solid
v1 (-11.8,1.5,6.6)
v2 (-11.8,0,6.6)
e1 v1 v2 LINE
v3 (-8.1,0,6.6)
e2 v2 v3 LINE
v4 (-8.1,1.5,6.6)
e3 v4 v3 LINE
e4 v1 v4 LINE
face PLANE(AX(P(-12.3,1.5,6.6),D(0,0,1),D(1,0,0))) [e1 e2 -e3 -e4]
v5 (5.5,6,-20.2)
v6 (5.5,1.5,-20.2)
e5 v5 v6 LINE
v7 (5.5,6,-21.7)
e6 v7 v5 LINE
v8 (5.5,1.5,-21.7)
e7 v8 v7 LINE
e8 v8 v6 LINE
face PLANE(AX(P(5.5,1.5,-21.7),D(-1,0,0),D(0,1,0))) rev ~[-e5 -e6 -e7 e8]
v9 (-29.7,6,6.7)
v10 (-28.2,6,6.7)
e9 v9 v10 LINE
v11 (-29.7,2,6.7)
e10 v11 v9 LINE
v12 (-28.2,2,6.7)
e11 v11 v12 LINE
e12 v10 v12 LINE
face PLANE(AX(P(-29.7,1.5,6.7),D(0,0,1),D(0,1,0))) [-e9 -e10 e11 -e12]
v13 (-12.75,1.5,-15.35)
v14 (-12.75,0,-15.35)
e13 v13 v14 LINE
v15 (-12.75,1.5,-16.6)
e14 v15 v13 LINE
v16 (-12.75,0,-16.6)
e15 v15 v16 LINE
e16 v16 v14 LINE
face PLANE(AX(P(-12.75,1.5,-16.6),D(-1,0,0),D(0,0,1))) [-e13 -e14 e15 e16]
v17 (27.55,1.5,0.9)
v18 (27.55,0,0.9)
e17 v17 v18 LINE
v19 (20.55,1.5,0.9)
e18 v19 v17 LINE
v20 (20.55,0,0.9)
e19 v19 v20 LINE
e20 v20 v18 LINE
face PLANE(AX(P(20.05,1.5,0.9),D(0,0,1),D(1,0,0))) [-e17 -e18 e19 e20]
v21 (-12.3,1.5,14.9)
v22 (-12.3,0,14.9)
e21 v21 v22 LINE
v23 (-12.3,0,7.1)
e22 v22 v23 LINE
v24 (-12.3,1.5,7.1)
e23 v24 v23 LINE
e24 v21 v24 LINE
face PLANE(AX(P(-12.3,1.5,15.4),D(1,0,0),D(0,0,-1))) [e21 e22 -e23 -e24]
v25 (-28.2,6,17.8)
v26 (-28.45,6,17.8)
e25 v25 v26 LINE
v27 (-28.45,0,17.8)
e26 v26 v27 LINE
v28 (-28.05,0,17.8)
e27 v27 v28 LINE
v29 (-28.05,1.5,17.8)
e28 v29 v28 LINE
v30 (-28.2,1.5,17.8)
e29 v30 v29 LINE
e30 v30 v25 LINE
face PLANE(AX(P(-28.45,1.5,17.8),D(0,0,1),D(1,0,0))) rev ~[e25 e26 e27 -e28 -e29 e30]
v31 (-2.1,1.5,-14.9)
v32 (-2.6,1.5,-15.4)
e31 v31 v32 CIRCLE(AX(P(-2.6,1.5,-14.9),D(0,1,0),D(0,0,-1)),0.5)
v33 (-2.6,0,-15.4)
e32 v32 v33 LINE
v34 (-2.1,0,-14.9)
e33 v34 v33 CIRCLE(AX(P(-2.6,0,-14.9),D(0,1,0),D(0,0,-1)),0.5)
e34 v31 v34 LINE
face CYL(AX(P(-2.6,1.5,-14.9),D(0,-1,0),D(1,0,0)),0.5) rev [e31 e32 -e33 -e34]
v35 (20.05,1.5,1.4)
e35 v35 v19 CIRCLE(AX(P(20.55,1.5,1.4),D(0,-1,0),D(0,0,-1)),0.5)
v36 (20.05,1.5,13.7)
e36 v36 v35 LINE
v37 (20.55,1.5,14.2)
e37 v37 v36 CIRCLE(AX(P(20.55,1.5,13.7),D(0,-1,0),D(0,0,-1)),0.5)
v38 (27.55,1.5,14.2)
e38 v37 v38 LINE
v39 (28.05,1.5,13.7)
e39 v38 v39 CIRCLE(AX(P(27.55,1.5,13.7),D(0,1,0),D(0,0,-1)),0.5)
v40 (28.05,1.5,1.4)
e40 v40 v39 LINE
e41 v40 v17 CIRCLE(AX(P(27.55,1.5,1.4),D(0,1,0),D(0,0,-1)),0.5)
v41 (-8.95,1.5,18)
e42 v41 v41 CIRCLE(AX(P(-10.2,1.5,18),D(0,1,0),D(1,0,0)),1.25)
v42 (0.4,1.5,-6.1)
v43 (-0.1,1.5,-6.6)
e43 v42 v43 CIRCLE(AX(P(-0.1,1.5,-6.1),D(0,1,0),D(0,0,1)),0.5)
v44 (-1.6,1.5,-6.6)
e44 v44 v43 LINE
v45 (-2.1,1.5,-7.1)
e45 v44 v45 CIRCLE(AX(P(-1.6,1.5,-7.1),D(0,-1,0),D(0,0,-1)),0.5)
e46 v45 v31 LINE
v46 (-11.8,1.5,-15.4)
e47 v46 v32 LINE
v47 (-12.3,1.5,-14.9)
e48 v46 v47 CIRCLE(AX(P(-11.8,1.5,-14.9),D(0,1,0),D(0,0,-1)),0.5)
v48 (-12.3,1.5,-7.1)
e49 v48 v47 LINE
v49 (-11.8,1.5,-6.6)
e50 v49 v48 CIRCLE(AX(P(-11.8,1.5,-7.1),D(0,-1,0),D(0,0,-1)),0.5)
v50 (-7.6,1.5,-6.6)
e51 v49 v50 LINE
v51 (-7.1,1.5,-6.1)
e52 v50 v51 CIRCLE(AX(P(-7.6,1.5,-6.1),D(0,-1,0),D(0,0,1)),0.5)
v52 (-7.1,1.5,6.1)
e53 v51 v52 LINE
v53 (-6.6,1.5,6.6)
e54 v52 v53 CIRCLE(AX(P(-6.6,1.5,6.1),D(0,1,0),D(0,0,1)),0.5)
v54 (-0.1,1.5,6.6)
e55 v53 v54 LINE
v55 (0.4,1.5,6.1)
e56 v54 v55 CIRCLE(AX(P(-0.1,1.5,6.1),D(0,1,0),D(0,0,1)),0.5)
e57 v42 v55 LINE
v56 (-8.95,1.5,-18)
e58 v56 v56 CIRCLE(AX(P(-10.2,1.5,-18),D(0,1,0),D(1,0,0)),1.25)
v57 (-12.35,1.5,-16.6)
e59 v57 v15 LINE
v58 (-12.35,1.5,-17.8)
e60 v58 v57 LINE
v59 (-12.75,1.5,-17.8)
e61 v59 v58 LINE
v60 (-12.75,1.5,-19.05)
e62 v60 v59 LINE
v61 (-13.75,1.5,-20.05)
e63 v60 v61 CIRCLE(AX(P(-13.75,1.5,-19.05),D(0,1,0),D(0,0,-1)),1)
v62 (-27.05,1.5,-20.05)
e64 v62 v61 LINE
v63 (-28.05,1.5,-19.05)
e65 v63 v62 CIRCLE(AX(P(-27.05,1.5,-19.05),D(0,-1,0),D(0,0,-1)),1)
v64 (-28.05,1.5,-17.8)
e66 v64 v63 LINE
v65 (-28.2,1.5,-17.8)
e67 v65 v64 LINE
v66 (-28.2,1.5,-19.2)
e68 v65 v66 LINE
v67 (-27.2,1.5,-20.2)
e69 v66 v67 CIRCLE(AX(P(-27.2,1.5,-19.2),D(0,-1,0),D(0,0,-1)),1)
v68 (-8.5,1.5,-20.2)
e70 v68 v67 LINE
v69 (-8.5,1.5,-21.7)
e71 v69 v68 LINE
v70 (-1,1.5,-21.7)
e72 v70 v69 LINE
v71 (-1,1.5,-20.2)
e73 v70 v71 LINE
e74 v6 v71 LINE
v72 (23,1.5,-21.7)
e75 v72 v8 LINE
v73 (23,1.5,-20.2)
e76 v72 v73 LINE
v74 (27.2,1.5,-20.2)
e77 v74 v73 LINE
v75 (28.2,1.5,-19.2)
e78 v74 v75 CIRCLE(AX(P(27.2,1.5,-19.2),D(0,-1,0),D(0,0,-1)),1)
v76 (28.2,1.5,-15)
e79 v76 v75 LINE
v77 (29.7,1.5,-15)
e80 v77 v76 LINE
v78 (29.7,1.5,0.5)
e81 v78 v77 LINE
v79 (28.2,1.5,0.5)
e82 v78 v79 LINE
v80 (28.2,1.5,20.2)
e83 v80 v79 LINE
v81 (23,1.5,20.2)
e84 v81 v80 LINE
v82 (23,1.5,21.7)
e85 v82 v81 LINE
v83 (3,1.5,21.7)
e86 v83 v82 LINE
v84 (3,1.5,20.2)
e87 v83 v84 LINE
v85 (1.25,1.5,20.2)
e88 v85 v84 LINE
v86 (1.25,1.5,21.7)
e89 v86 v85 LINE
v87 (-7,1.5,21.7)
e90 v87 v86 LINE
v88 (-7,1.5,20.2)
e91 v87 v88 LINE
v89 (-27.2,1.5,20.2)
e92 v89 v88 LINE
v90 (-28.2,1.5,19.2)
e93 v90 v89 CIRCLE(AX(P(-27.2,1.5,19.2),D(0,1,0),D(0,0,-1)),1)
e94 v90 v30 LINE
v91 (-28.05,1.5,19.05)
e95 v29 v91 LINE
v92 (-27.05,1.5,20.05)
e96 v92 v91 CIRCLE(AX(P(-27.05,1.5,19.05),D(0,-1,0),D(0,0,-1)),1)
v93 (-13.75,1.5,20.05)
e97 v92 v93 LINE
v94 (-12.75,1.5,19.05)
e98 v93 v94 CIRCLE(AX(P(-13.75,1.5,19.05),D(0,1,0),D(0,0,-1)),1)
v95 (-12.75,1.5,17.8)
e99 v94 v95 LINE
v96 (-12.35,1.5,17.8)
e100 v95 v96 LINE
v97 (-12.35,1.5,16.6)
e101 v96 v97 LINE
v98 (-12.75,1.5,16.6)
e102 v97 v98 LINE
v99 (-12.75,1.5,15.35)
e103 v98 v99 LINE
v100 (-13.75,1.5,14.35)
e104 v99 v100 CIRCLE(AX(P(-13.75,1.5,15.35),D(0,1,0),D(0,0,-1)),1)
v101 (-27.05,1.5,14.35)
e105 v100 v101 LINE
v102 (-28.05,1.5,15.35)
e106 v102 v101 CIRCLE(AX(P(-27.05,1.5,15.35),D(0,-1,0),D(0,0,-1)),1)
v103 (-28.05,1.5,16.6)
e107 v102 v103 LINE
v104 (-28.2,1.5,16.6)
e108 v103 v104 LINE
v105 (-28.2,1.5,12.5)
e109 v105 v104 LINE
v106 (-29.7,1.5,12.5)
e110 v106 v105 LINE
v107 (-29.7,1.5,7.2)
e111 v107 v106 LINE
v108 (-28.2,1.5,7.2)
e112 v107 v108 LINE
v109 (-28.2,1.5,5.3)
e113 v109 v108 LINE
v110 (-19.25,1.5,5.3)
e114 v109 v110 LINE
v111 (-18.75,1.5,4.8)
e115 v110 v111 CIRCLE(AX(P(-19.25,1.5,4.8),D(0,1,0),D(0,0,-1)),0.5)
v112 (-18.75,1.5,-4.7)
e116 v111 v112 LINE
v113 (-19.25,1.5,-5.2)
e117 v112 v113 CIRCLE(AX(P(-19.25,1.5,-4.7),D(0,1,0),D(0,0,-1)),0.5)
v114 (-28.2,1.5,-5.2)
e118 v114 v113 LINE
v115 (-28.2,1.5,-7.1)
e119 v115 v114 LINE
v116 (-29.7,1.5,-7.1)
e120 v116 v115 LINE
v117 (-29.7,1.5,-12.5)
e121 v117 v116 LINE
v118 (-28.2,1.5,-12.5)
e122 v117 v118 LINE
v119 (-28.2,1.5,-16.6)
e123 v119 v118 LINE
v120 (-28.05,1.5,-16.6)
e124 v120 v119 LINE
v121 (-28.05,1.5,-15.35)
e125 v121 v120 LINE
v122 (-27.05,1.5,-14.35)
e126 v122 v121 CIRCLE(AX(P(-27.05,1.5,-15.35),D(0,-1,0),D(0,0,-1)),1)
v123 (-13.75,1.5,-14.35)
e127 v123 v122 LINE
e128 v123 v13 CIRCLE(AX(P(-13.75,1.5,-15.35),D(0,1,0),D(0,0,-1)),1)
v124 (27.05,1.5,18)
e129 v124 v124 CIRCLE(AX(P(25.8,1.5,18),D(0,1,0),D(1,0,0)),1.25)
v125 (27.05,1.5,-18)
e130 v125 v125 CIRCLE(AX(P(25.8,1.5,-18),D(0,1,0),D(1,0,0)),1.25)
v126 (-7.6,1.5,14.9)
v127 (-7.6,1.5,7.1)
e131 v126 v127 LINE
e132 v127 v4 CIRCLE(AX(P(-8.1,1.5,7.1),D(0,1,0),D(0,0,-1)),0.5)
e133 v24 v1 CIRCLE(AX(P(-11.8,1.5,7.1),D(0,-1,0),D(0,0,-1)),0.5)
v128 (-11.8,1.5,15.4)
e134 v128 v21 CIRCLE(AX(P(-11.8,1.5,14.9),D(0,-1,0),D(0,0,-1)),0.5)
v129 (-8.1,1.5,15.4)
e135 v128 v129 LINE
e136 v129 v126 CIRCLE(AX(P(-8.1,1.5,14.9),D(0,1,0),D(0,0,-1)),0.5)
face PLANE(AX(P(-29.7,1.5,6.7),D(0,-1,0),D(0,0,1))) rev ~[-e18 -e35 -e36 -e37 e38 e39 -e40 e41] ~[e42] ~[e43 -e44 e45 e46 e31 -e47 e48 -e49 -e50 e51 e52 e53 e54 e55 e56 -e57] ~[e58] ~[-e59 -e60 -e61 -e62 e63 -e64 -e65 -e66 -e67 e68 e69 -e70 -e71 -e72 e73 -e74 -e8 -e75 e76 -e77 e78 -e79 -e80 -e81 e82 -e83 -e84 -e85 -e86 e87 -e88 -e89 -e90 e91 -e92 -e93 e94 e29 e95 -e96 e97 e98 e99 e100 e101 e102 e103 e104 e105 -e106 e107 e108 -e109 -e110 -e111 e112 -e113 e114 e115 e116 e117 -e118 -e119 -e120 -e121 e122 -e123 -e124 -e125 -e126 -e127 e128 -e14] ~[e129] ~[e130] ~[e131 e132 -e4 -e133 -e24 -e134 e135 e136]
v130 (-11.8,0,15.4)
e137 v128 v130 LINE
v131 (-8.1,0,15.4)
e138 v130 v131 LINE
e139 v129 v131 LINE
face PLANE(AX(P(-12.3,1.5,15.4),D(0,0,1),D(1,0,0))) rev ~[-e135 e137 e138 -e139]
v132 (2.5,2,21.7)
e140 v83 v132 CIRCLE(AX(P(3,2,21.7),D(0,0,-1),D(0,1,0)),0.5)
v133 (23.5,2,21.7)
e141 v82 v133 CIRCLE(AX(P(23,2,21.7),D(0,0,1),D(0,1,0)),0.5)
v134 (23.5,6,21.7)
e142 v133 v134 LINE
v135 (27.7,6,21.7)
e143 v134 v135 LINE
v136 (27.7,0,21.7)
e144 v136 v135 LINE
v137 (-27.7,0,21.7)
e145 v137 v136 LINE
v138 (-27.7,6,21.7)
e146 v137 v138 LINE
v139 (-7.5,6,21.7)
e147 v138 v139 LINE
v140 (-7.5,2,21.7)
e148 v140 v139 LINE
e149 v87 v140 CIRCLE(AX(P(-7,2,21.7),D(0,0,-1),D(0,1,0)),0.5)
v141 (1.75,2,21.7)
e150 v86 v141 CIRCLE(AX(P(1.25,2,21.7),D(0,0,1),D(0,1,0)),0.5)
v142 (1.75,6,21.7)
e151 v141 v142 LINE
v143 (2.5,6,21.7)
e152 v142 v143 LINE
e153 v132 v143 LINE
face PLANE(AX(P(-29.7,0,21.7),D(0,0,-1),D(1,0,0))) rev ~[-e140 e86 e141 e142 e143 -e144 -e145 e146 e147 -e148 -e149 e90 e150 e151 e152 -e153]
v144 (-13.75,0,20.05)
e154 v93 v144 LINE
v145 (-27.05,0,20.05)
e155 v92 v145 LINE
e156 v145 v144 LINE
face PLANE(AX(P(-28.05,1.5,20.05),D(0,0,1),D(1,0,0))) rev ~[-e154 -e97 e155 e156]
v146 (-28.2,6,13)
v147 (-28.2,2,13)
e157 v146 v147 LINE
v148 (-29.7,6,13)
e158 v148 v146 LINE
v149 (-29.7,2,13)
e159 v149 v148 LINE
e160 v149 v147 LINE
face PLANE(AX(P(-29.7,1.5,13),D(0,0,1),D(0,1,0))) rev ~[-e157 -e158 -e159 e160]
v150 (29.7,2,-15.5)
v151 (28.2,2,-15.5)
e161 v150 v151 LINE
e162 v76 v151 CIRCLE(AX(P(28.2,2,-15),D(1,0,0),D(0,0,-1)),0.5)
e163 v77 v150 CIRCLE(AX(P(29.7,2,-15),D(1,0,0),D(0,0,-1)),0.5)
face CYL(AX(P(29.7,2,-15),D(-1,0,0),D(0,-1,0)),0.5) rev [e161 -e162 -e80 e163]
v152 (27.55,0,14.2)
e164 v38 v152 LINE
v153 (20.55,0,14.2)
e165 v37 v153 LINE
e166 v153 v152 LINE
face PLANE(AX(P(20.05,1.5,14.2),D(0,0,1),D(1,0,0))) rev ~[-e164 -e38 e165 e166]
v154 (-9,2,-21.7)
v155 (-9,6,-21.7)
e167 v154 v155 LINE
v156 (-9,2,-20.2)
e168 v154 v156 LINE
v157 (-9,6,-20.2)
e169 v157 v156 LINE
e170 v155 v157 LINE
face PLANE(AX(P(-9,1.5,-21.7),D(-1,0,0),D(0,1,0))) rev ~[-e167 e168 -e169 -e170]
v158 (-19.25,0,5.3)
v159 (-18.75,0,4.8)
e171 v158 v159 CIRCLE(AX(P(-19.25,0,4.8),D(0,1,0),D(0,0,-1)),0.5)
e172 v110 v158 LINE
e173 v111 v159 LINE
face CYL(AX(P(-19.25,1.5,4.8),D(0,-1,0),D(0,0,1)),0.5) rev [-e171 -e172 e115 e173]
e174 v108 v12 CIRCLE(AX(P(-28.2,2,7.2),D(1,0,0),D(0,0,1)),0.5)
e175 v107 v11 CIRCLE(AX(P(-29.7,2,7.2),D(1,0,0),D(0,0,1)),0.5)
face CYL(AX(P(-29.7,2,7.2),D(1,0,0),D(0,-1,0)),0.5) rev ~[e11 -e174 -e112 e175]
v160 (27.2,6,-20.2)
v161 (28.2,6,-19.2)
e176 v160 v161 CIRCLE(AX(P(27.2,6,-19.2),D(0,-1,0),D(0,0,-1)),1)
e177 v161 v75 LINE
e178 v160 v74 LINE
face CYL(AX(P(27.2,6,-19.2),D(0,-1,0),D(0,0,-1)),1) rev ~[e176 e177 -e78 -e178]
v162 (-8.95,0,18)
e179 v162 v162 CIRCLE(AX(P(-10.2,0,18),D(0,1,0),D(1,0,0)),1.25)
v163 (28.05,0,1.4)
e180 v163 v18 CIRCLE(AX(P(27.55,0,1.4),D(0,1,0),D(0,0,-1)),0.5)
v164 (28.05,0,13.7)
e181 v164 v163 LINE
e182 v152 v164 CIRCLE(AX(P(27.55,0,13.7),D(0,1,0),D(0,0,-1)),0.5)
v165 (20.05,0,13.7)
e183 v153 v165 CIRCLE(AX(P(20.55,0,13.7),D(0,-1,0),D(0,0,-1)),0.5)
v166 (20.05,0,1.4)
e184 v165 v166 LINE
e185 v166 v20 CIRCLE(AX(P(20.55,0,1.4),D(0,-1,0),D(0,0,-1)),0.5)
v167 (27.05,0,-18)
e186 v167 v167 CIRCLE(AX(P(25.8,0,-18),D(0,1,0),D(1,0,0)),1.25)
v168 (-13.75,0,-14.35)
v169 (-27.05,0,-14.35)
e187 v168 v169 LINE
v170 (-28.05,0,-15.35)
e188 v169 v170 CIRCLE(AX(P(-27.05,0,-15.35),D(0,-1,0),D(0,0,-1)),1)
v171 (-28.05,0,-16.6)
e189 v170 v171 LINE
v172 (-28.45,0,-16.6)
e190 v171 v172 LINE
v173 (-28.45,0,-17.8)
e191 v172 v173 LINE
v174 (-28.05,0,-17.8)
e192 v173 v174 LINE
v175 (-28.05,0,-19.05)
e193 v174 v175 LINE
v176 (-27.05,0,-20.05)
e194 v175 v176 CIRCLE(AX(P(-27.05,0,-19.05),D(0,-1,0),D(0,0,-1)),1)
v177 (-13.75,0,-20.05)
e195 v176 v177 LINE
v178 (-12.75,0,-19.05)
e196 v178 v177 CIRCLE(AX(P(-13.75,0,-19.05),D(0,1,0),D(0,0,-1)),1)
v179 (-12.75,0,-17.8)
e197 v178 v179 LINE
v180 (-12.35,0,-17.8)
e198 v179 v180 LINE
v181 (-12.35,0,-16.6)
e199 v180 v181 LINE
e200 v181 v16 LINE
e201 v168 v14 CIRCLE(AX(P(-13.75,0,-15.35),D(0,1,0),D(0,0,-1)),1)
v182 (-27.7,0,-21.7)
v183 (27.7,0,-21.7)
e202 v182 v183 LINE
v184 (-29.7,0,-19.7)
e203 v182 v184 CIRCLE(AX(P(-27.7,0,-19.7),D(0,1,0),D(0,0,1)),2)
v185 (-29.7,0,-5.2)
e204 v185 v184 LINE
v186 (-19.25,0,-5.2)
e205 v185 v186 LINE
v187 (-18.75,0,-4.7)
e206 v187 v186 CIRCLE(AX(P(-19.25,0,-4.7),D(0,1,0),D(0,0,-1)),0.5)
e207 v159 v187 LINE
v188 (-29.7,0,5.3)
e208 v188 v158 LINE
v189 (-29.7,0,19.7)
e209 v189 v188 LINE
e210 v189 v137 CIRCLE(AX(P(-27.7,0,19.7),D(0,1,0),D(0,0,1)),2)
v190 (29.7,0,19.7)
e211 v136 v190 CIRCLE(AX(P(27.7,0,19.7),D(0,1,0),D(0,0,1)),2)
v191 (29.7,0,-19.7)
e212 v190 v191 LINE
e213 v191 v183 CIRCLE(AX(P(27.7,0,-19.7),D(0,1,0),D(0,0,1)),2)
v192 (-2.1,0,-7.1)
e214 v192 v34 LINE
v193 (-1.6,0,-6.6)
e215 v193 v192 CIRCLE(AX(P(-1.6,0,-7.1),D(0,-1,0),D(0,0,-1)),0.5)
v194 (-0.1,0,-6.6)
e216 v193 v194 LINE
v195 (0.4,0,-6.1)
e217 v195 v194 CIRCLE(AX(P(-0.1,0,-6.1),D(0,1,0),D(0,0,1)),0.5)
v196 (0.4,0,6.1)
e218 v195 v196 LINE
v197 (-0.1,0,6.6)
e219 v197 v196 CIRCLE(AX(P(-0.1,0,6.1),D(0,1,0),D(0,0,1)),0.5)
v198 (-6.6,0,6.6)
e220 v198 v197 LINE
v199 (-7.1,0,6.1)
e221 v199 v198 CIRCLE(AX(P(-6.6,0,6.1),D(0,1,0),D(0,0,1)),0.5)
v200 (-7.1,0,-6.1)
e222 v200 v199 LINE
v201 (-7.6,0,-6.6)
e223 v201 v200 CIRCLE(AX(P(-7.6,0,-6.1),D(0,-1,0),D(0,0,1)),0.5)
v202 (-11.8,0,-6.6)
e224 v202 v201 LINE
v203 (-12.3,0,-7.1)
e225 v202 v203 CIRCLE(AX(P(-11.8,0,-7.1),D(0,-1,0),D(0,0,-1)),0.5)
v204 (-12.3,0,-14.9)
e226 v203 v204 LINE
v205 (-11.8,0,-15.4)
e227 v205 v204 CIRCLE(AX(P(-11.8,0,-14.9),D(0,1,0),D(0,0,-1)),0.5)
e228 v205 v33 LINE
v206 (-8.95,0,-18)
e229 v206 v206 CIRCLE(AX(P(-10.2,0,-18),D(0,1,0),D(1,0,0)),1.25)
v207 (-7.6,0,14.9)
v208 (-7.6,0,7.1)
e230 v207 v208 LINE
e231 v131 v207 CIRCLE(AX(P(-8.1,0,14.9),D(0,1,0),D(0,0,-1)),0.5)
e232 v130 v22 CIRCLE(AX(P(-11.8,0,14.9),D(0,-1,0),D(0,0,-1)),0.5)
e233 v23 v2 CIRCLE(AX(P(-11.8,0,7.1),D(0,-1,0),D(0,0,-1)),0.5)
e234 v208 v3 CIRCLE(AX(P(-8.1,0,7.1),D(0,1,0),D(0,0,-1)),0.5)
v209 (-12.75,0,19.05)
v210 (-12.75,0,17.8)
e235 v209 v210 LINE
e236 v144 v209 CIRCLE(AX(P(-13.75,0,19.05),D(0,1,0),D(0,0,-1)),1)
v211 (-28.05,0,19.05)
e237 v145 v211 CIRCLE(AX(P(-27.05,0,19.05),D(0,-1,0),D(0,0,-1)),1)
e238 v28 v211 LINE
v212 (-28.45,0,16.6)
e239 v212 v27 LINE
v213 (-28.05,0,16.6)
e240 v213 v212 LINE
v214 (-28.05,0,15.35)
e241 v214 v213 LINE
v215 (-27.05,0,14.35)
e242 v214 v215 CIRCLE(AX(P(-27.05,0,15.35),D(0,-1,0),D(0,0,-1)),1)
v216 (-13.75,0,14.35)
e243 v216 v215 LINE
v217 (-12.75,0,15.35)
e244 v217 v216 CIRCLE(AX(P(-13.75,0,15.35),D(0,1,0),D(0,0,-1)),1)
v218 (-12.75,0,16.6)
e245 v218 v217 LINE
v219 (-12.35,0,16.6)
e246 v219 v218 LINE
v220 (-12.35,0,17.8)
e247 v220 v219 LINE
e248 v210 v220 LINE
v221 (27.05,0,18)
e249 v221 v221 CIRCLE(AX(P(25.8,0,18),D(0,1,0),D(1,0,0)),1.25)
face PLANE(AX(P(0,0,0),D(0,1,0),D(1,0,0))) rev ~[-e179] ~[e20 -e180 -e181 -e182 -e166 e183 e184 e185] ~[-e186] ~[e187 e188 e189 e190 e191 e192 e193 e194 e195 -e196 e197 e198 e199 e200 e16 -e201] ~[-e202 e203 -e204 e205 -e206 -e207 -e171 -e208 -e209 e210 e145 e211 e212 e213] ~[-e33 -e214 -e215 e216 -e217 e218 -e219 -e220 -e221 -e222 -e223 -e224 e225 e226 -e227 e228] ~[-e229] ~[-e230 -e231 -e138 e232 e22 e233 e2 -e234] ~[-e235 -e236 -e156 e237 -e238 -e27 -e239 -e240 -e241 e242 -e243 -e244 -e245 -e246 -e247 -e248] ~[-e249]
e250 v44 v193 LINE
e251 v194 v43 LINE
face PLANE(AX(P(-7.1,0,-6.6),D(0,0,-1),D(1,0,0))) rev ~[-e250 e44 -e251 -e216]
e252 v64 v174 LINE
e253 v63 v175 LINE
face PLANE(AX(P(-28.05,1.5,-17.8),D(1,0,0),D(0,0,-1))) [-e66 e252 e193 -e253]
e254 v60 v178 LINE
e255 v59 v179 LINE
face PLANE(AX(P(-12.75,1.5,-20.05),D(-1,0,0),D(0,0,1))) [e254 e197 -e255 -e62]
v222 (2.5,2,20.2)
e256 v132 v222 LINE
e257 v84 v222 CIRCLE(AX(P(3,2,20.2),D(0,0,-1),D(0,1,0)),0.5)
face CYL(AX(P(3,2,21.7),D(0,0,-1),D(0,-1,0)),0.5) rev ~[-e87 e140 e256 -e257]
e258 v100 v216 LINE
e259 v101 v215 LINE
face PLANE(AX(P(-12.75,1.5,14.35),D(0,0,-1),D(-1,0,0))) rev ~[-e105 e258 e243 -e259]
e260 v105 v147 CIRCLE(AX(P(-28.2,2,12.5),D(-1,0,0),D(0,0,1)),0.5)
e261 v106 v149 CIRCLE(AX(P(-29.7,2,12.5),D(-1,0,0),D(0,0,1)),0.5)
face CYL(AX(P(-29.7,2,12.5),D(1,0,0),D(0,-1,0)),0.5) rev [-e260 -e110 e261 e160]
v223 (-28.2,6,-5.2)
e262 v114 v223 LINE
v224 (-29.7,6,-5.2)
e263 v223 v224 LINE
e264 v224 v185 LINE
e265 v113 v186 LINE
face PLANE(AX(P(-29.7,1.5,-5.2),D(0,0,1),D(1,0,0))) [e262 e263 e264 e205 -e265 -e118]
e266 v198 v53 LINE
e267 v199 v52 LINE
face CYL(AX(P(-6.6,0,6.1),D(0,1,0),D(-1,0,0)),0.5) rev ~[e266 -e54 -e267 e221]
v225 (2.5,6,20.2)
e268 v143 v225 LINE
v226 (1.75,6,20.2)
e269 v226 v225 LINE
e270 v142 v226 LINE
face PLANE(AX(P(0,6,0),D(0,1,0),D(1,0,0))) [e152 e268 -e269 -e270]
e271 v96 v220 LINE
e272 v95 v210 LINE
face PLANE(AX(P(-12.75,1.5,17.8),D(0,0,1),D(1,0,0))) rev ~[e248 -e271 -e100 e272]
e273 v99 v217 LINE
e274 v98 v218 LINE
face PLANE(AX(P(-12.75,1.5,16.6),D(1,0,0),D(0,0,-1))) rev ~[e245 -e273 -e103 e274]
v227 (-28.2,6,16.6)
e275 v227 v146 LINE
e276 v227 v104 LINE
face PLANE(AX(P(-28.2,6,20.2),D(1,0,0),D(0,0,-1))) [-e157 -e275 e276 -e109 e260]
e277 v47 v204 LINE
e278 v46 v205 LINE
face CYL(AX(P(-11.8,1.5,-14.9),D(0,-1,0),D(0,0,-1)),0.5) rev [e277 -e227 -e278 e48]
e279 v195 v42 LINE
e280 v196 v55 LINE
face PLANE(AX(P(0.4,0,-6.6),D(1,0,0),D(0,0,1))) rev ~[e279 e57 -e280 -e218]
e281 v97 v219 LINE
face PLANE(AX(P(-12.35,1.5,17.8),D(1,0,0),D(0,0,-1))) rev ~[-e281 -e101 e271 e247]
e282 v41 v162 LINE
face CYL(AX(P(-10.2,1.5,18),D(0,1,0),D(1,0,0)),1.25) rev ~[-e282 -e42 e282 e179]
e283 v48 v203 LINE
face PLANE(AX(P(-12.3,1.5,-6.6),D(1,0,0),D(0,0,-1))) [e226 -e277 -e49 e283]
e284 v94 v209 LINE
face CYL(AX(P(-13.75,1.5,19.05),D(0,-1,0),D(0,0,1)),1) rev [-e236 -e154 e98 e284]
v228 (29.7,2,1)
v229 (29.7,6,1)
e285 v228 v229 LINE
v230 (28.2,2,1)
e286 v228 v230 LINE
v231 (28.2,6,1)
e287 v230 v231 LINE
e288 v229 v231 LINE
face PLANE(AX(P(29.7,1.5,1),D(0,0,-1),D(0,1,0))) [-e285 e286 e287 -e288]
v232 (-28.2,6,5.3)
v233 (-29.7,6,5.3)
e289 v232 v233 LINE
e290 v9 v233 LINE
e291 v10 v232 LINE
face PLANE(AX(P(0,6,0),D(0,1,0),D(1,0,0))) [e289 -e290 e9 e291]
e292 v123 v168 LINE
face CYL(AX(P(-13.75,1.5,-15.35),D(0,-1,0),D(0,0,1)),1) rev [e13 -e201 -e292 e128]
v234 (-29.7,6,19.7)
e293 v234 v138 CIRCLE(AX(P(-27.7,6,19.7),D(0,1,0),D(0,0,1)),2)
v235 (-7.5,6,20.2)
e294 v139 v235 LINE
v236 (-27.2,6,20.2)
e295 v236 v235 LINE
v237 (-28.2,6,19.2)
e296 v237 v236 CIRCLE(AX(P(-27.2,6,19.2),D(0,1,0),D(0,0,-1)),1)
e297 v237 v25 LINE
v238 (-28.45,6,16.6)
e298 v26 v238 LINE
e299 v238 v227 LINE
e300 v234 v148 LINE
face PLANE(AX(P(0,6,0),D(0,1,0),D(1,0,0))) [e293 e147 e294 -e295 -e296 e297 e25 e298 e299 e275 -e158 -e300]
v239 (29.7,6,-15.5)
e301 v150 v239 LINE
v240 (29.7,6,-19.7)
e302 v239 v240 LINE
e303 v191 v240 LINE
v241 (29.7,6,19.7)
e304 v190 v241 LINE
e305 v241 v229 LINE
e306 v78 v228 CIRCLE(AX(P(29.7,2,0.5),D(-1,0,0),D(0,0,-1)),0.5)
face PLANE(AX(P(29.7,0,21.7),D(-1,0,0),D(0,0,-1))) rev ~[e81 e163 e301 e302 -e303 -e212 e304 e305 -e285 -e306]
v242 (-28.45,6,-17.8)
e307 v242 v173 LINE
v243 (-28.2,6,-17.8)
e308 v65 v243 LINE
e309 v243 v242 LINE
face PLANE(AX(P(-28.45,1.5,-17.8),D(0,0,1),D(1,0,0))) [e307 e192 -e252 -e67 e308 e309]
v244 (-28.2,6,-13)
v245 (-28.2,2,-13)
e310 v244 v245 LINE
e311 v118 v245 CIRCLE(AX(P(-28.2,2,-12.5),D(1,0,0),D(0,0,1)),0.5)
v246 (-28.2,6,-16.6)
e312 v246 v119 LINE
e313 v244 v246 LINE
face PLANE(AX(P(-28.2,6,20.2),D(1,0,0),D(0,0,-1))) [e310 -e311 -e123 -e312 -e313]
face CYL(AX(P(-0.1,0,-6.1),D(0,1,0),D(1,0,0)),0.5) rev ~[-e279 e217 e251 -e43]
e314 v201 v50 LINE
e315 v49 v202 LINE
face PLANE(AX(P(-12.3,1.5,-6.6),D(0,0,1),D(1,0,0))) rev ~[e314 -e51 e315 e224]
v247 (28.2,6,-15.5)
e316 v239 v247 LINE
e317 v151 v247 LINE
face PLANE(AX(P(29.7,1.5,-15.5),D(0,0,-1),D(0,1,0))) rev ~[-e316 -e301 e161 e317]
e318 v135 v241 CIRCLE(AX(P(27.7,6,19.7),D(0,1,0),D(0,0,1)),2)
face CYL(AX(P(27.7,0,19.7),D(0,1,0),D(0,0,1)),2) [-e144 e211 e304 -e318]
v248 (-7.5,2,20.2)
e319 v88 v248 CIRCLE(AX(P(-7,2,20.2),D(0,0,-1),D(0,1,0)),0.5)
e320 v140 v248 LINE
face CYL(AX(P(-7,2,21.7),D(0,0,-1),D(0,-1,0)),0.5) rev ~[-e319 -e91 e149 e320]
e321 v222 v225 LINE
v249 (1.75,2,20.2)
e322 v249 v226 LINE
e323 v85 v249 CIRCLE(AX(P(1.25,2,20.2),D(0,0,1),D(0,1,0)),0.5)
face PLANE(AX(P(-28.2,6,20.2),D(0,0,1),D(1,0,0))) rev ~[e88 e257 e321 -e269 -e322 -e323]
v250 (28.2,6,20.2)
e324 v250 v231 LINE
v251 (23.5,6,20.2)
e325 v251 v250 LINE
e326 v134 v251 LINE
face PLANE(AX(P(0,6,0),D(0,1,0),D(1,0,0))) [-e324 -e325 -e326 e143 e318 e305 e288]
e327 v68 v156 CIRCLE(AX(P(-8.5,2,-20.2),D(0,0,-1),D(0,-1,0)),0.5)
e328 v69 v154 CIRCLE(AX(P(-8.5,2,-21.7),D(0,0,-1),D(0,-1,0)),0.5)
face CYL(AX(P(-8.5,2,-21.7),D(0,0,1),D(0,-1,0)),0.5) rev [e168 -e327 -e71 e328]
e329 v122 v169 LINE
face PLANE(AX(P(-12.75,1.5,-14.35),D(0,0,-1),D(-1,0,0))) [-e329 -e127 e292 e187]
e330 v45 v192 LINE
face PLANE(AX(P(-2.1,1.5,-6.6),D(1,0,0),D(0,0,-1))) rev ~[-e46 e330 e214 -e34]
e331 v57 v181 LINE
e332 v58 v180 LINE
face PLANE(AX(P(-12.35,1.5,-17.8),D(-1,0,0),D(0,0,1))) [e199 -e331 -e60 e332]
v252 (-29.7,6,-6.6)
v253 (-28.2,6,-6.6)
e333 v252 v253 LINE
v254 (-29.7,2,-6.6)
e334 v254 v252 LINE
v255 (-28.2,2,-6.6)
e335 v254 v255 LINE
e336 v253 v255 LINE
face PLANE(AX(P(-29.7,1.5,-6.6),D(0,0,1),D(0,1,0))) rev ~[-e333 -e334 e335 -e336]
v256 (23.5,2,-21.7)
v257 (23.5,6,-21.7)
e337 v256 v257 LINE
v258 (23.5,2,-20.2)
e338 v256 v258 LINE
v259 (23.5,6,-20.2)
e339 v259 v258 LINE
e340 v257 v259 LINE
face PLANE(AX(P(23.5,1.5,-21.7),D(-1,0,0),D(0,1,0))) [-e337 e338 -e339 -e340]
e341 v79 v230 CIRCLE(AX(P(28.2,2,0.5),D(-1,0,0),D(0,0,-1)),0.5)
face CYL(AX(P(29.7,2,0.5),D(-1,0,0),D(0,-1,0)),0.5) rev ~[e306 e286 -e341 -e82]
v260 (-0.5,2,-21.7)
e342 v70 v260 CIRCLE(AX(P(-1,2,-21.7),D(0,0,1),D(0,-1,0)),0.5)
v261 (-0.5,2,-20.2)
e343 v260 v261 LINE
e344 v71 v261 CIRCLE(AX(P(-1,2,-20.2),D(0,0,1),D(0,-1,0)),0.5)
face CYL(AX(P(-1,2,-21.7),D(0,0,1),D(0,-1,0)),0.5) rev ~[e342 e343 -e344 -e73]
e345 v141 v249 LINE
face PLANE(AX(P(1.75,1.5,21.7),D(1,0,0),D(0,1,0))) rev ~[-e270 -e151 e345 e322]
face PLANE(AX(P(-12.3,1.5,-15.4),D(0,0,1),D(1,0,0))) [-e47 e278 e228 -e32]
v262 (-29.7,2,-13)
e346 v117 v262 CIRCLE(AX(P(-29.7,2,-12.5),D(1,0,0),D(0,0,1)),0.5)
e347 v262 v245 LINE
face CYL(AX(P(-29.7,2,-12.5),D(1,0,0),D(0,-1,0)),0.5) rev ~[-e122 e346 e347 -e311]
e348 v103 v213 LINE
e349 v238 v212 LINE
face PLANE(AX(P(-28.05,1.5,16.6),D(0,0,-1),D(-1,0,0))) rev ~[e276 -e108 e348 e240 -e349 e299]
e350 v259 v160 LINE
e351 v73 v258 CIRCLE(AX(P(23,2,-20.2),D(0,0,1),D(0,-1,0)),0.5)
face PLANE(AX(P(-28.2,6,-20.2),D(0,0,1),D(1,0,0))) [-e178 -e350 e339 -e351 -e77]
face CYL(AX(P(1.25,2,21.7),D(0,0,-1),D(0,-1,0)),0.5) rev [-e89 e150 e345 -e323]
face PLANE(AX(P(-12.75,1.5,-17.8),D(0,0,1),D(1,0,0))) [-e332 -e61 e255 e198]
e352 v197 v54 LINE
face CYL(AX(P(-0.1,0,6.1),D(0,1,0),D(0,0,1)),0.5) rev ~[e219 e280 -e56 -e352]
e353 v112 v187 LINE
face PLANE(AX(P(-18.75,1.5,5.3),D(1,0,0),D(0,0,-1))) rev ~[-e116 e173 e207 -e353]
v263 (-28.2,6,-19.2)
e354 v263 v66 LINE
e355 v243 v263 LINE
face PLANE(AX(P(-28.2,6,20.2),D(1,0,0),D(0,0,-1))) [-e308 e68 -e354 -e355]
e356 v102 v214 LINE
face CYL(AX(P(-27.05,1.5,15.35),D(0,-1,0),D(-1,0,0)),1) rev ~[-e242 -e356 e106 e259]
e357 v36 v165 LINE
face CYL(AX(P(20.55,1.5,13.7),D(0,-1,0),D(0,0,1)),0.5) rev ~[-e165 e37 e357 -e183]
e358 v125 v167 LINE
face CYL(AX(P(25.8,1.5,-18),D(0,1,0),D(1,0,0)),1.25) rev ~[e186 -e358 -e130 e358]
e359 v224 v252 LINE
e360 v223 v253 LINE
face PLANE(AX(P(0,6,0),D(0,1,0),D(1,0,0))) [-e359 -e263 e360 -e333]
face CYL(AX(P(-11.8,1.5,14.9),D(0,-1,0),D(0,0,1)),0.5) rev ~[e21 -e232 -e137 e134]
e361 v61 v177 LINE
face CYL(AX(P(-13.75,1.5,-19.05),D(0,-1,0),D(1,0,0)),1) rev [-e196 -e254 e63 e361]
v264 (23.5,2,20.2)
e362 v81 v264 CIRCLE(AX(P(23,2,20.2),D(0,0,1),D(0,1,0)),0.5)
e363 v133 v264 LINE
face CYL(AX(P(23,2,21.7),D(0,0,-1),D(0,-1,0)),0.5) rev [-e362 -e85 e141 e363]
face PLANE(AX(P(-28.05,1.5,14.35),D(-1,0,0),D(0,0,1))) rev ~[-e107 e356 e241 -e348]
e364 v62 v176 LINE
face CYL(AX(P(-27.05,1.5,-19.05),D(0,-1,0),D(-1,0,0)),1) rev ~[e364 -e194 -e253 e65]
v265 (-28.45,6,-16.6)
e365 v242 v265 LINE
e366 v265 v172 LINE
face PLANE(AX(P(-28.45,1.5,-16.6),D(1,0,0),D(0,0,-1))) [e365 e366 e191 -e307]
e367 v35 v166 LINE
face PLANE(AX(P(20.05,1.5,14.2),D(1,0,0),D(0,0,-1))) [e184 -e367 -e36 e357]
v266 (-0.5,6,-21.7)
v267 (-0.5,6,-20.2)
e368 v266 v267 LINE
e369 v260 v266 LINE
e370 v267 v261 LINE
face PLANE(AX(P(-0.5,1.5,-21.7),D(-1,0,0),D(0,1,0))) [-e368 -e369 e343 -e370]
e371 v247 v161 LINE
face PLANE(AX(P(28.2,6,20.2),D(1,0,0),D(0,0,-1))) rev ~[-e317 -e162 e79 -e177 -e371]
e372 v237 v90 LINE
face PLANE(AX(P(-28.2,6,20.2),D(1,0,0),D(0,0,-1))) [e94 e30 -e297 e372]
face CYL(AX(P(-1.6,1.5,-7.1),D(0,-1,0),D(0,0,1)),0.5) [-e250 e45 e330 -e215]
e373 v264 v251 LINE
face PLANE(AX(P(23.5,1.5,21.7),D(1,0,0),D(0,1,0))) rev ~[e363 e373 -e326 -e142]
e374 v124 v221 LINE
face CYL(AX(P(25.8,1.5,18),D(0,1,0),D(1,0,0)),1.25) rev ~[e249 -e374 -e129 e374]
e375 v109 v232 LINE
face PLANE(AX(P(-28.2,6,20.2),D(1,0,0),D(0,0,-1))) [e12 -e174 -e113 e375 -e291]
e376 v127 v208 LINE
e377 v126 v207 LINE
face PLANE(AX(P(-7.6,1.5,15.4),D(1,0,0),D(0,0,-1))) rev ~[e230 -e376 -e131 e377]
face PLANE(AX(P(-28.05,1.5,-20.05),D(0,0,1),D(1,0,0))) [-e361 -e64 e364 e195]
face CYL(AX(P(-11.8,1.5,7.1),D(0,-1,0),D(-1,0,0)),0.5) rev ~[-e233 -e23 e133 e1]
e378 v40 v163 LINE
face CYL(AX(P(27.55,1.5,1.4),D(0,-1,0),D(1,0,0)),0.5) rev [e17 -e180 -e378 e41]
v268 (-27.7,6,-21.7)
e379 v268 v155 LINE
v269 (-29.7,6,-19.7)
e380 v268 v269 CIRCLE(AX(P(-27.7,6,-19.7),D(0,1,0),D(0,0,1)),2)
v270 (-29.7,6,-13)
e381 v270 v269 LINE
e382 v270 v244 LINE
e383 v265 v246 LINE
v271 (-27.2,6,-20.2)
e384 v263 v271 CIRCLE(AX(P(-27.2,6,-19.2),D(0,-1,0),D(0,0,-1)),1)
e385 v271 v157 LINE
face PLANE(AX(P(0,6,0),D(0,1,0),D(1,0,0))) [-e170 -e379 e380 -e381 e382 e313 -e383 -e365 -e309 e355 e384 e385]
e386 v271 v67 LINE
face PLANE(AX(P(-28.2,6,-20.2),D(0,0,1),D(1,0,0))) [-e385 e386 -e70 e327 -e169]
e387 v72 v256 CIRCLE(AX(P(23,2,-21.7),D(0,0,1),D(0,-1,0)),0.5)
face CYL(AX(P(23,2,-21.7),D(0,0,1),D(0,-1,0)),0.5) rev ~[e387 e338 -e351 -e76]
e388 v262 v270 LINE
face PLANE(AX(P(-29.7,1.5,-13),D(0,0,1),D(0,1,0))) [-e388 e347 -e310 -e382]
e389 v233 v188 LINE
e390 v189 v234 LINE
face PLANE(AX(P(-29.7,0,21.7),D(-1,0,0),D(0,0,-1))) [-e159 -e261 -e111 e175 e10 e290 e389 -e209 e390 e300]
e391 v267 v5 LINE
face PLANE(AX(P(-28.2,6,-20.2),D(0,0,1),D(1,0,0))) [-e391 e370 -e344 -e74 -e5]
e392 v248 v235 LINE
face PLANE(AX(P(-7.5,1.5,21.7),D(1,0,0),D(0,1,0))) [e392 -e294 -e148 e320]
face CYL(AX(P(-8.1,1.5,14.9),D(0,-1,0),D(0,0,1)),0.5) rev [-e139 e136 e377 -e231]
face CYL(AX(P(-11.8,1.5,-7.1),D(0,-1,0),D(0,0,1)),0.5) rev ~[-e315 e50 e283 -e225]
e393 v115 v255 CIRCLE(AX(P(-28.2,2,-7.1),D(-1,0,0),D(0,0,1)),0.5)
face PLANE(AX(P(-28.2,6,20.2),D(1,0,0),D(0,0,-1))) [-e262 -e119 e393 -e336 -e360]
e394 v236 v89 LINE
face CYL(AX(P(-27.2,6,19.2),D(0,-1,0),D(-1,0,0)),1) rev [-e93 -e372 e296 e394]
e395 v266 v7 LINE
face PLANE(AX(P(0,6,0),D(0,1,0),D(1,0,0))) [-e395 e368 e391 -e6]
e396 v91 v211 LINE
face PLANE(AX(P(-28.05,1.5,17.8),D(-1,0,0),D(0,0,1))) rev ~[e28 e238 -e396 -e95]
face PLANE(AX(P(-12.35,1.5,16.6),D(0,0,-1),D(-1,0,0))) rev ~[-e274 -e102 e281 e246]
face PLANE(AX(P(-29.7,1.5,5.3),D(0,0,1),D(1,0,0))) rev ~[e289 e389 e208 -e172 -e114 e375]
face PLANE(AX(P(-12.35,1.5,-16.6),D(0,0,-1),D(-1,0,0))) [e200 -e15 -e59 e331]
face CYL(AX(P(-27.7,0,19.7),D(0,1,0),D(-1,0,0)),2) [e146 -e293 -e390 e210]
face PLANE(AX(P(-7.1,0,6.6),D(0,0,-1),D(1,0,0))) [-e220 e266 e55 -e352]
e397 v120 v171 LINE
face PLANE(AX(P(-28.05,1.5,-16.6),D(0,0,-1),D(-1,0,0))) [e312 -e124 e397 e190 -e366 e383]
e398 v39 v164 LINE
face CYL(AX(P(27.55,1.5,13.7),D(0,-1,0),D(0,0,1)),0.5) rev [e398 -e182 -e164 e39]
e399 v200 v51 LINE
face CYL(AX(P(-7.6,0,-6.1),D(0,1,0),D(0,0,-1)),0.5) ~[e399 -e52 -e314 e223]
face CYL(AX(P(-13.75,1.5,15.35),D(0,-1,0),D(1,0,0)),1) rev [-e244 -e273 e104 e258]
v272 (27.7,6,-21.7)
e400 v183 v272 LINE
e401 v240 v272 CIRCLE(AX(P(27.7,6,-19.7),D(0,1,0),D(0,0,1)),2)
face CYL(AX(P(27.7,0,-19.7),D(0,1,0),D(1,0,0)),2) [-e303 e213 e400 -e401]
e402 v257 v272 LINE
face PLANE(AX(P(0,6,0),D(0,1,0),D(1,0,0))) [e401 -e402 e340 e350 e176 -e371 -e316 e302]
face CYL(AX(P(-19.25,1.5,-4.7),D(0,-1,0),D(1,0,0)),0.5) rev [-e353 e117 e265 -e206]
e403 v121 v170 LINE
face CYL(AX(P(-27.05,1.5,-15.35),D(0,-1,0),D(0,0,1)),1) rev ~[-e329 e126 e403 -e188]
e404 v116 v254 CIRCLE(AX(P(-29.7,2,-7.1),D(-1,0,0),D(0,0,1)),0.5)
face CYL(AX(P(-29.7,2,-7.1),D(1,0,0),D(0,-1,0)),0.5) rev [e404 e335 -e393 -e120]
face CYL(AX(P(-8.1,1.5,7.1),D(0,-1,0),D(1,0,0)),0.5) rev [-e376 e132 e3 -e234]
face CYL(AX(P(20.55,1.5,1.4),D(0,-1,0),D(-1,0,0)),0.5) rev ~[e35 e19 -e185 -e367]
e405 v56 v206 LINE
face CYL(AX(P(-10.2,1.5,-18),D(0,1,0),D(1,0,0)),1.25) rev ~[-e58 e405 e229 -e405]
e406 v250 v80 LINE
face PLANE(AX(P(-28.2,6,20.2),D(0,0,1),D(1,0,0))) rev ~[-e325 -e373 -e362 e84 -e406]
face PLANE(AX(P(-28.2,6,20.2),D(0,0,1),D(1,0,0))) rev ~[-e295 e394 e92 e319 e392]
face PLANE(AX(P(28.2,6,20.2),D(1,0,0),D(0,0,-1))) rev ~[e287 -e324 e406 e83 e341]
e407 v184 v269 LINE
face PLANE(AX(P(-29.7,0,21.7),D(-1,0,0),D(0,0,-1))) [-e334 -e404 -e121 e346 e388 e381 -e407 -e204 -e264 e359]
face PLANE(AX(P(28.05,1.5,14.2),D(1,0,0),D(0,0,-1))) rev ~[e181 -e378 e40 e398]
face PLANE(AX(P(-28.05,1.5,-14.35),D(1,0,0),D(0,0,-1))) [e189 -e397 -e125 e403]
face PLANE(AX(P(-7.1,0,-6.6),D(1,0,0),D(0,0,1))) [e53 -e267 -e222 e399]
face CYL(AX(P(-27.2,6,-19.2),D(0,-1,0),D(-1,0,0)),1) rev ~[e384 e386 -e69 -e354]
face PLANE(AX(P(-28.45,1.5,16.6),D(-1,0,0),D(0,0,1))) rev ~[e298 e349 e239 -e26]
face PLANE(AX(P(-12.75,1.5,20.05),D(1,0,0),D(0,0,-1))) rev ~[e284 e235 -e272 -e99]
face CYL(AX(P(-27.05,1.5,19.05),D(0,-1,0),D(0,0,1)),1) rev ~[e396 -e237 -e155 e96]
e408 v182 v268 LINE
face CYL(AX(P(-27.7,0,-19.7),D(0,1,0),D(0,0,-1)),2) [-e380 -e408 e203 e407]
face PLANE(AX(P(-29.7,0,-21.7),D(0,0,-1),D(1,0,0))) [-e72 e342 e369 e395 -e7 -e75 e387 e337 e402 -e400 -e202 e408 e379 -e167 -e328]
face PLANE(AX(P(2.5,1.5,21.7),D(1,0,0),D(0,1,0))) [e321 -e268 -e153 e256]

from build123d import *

# Parameters (mm, degrees)
SKETCH_1_W               = 59.4
SKETCH_1_H               = 43.4
EXTRUDE_1_DEPTH          = 6
SKETCH_2_W               = 56.4
SKETCH_2_H               = 40.4
CUT_EXTRUDE_1_DEPTH      = 4.5
SKETCH_3_R               = 1.25
CUT_EXTRUDE_2_DEPTH      = 2.5
SKETCH_4_W               = 10.95
SKETCH_4_H               = 10.5
CUT_EXTRUDE_3_DEPTH      = 5.5
CUT_EXTRUDE_3_DEPTH_BACK = 2.5
SKETCH_5_W               = 6.4
SKETCH_5_H               = 4.5
SKETCH_5_W_2             = 6.3
CUT_EXTRUDE_4_DEPTH      = 4.5
CUT_EXTRUDE_5_DEPTH      = 5.5
CUT_EXTRUDE_5_DEPTH_BACK = 2.5
SKETCH_9_W               = 10.2
SKETCH_9_H               = 8.8
SKETCH_9_W_2             = 4.7
CUT_EXTRUDE_6_DEPTH      = 5.5
CUT_EXTRUDE_6_DEPTH_BACK = 2.5
SKETCH_10_W              = 8
SKETCH_10_H              = 13.3
CUT_EXTRUDE_7_DEPTH      = 5.5
CUT_EXTRUDE_7_DEPTH_BACK = 2.5
FILLET_1_R               = 2
SKETCH_11_W              = 8.5
SKETCH_11_H              = 4.5
SKETCH_11_W_2            = 18
CUT_EXTRUDE_8_DEPTH      = 3
SKETCH_12_W              = 9.25
SKETCH_12_H              = 4.5
SKETCH_12_W_2            = 21
CUT_EXTRUDE_9_DEPTH      = 3
SKETCH_13_W              = 16.5
SKETCH_13_H              = 4.5
CUT_EXTRUDE_10_DEPTH     = 3
SKETCH_14_W              = 7.5
SKETCH_14_H              = 13.2
CUT_EXTRUDE_11_DEPTH     = 10
FILLET_2_R               = 0.5
FILLET_3_R               = 1
FILLET_4_R               = 0.5


with BuildPart() as part:
    # 草图1 → 凸台-拉伸1 (new body)
    with BuildSketch(Plane(origin=(0, 0, 0), x_dir=(1, 0, 0), z_dir=(0, 1, 0))):
        Rectangle(SKETCH_1_W, SKETCH_1_H)
    extrude(amount=EXTRUDE_1_DEPTH)

    # 草图2 → 切除-拉伸1 (cut)
    with BuildSketch(Plane(origin=(0, 6, 0), x_dir=(1, 0, 0), z_dir=(0, 1, 0))):
        Rectangle(SKETCH_2_W, SKETCH_2_H)
    extrude(amount=-CUT_EXTRUDE_1_DEPTH, mode=Mode.SUBTRACT)

    # 草图3 → 切除-拉伸2 (cut, through all)
    with BuildSketch(Plane(origin=(0, 1.5, 0), x_dir=(1, 0, 0), z_dir=(0, 1, 0))):
        with Locations((-10.2, -18)):
            Circle(SKETCH_3_R)
        with Locations((-10.2, 18)):
            Circle(SKETCH_3_R)
        with Locations((25.8, 18)):
            Circle(SKETCH_3_R)
        with Locations((25.8, -18)):
            Circle(SKETCH_3_R)
    extrude(amount=-CUT_EXTRUDE_2_DEPTH, mode=Mode.SUBTRACT)

    # 草图4 → 切除-拉伸3 (cut, two sides)
    with BuildSketch(Plane(origin=(0, 1.5, 0), x_dir=(1, 0, 0), z_dir=(0, 1, 0))) as cut_extrude_3_sk:
        with Locations((-24.225, -0.05)):
            Rectangle(SKETCH_4_W, SKETCH_4_H)
    extrude(amount=CUT_EXTRUDE_3_DEPTH, mode=Mode.SUBTRACT)
    extrude(cut_extrude_3_sk.sketch, amount=-CUT_EXTRUDE_3_DEPTH_BACK, mode=Mode.SUBTRACT)

    # 草图5 → 切除-拉伸4 (cut)
    with BuildSketch(Plane.ZY.offset(29.7)):
        with Locations((-9.8, 3.75)):
            Rectangle(SKETCH_5_W, SKETCH_5_H)
        with Locations((9.85, 3.75)):
            Rectangle(SKETCH_5_W_2, SKETCH_5_H)
    extrude(amount=-CUT_EXTRUDE_4_DEPTH, mode=Mode.SUBTRACT)

    # 草图8 → 切除-拉伸5 (cut, two sides)
    with BuildSketch(Plane(origin=(0, 1.5, 0), x_dir=(1, 0, 0), z_dir=(0, 1, 0))) as cut_extrude_5_sk:
        Polygon((-28.05, 14.35), (-28.05, 16.6), (-28.45, 16.6), (-28.45, 17.8), (-28.05, 17.8), (-28.05, 20.05), (-12.75, 20.05), (-12.75, 17.8), (-12.35, 17.8), (-12.35, 16.6), (-12.75, 16.6), (-12.75, 14.35), align=None)
        Polygon((-28.05, -20.05), (-12.75, -20.05), (-12.75, -17.8), (-12.35, -17.8), (-12.35, -16.6), (-12.75, -16.6), (-12.75, -14.35), (-28.05, -14.35), (-28.05, -16.6), (-28.45, -16.6), (-28.45, -17.8), (-28.05, -17.8), align=None)
    extrude(amount=CUT_EXTRUDE_5_DEPTH, mode=Mode.SUBTRACT)
    extrude(cut_extrude_5_sk.sketch, amount=-CUT_EXTRUDE_5_DEPTH_BACK, mode=Mode.SUBTRACT)

    # 草图9 → 切除-拉伸6 (cut, two sides)
    with BuildSketch(Plane(origin=(0, 1.5, 0), x_dir=(1, 0, 0), z_dir=(0, 1, 0))) as cut_extrude_6_sk:
        with Locations((-7.2, 11)):
            Rectangle(SKETCH_9_W, SKETCH_9_H)
        with Locations((-9.95, -11)):
            Rectangle(SKETCH_9_W_2, SKETCH_9_H)
    extrude(amount=CUT_EXTRUDE_6_DEPTH, mode=Mode.SUBTRACT)
    extrude(cut_extrude_6_sk.sketch, amount=-CUT_EXTRUDE_6_DEPTH_BACK, mode=Mode.SUBTRACT)

    # 草图10 → 切除-拉伸7 (cut, two sides)
    with BuildSketch(Plane(origin=(0, 1.5, 0), x_dir=(1, 0, 0), z_dir=(0, 1, 0))) as cut_extrude_7_sk:
        with Locations((24.05, -7.55)):
            Rectangle(SKETCH_10_W, SKETCH_10_H)
    extrude(amount=CUT_EXTRUDE_7_DEPTH, mode=Mode.SUBTRACT)
    extrude(cut_extrude_7_sk.sketch, amount=-CUT_EXTRUDE_7_DEPTH_BACK, mode=Mode.SUBTRACT)

    # 圆角1
    fillet_1_edges = [part.edges().sort_by_distance(p)[0] for p in [
        (29.7, 3, 21.7),
        (-29.7, 3, 21.7),
        (-29.7, 3, -21.7),
        (29.7, 3, -21.7),
    ]]
    fillet(fillet_1_edges, radius=FILLET_1_R)

    # 草图11 → 切除-拉伸8 (cut)
    with BuildSketch(Plane(origin=(0, 0, -21.7), x_dir=(-1, 0, 0), z_dir=(0, 0, -1))):
        with Locations((4.75, 3.75)):
            Rectangle(SKETCH_11_W, SKETCH_11_H)
        with Locations((-14.5, 3.75)):
            Rectangle(SKETCH_11_W_2, SKETCH_11_H)
    extrude(amount=-CUT_EXTRUDE_8_DEPTH, mode=Mode.SUBTRACT)

    # 草图12 → 切除-拉伸9 (cut)
    with BuildSketch(Plane.XY.offset(21.7)):
        with Locations((-2.875, 3.75)):
            Rectangle(SKETCH_12_W, SKETCH_12_H)
        with Locations((13, 3.75)):
            Rectangle(SKETCH_12_W_2, SKETCH_12_H)
    extrude(amount=-CUT_EXTRUDE_9_DEPTH, mode=Mode.SUBTRACT)

    # 草图13 → 切除-拉伸10 (cut)
    with BuildSketch(Plane(origin=(29.7, 0, 0), x_dir=(0, 0, -1), z_dir=(1, 0, 0))):
        with Locations((7.25, 3.75)):
            Rectangle(SKETCH_13_W, SKETCH_13_H)
    extrude(amount=-CUT_EXTRUDE_10_DEPTH, mode=Mode.SUBTRACT)

    # 草图14 → 切除-拉伸11 (cut)
    with BuildSketch(Plane.XZ):
        with Locations((-3.35, 0)):
            Rectangle(SKETCH_14_W, SKETCH_14_H)
    extrude(amount=-CUT_EXTRUDE_11_DEPTH, mode=Mode.SUBTRACT)

    # 圆角2
    fillet_2_edges = [part.edges().sort_by_distance(p)[0] for p in [
        (-12.3, 0.75, -15.4),
        (-2.1, 0.75, -15.4),
        (-2.1, 0.75, -6.6),
        (-12.3, 0.75, -6.6),
        (-12.3, 0.75, 15.4),
        (-12.3, 0.75, 6.6),
        (-7.6, 0.75, 6.6),
        (-7.6, 0.75, 15.4),
        (28.05, 0.75, 0.9),
        (28.05, 0.75, 14.2),
        (20.05, 0.75, 14.2),
        (20.05, 0.75, 0.9),
        (-7.1, 0.75, -6.6),
        (0.4, 0.75, -6.6),
        (0.4, 0.75, 6.6),
        (-7.1, 0.75, 6.6),
        (-18.75, 0.75, 5.3),
        (-18.75, 0.75, -5.2),
    ]]
    fillet(fillet_2_edges, radius=FILLET_2_R)

    # 圆角3
    fillet_3_edges = [part.edges().sort_by_distance(p)[0] for p in [
        (-28.05, 0.75, 14.35),
        (-12.75, 0.75, 14.35),
        (-12.75, 0.75, 20.05),
        (-28.05, 0.75, 20.05),
        (28.2, 3.75, -20.2),
        (-12.75, 0.75, -20.05),
        (-12.75, 0.75, -14.35),
        (-28.05, 0.75, -14.35),
        (-28.05, 0.75, -20.05),
        (-28.2, 3.75, 20.2),
        (-28.2, 3.75, -20.2),
    ]]
    fillet(fillet_3_edges, radius=FILLET_3_R)

    # 圆角4
    fillet_4_edges = [part.edges().sort_by_distance(p)[0] for p in [
        (23.5, 1.5, -20.95),
        (-9, 1.5, -20.95),
        (-0.5, 1.5, -20.95),
        (23.5, 1.5, 20.95),
        (2.5, 1.5, 20.95),
        (1.75, 1.5, 20.95),
        (-7.5, 1.5, 20.95),
        (28.95, 1.5, 1),
        (28.95, 1.5, -15.5),
        (-28.95, 1.5, -6.6),
        (-28.95, 1.5, -13),
        (-28.95, 1.5, 13),
        (-28.95, 1.5, 6.7),
    ]]
    fillet(fillet_4_edges, radius=FILLET_4_R)


solid = part.part
